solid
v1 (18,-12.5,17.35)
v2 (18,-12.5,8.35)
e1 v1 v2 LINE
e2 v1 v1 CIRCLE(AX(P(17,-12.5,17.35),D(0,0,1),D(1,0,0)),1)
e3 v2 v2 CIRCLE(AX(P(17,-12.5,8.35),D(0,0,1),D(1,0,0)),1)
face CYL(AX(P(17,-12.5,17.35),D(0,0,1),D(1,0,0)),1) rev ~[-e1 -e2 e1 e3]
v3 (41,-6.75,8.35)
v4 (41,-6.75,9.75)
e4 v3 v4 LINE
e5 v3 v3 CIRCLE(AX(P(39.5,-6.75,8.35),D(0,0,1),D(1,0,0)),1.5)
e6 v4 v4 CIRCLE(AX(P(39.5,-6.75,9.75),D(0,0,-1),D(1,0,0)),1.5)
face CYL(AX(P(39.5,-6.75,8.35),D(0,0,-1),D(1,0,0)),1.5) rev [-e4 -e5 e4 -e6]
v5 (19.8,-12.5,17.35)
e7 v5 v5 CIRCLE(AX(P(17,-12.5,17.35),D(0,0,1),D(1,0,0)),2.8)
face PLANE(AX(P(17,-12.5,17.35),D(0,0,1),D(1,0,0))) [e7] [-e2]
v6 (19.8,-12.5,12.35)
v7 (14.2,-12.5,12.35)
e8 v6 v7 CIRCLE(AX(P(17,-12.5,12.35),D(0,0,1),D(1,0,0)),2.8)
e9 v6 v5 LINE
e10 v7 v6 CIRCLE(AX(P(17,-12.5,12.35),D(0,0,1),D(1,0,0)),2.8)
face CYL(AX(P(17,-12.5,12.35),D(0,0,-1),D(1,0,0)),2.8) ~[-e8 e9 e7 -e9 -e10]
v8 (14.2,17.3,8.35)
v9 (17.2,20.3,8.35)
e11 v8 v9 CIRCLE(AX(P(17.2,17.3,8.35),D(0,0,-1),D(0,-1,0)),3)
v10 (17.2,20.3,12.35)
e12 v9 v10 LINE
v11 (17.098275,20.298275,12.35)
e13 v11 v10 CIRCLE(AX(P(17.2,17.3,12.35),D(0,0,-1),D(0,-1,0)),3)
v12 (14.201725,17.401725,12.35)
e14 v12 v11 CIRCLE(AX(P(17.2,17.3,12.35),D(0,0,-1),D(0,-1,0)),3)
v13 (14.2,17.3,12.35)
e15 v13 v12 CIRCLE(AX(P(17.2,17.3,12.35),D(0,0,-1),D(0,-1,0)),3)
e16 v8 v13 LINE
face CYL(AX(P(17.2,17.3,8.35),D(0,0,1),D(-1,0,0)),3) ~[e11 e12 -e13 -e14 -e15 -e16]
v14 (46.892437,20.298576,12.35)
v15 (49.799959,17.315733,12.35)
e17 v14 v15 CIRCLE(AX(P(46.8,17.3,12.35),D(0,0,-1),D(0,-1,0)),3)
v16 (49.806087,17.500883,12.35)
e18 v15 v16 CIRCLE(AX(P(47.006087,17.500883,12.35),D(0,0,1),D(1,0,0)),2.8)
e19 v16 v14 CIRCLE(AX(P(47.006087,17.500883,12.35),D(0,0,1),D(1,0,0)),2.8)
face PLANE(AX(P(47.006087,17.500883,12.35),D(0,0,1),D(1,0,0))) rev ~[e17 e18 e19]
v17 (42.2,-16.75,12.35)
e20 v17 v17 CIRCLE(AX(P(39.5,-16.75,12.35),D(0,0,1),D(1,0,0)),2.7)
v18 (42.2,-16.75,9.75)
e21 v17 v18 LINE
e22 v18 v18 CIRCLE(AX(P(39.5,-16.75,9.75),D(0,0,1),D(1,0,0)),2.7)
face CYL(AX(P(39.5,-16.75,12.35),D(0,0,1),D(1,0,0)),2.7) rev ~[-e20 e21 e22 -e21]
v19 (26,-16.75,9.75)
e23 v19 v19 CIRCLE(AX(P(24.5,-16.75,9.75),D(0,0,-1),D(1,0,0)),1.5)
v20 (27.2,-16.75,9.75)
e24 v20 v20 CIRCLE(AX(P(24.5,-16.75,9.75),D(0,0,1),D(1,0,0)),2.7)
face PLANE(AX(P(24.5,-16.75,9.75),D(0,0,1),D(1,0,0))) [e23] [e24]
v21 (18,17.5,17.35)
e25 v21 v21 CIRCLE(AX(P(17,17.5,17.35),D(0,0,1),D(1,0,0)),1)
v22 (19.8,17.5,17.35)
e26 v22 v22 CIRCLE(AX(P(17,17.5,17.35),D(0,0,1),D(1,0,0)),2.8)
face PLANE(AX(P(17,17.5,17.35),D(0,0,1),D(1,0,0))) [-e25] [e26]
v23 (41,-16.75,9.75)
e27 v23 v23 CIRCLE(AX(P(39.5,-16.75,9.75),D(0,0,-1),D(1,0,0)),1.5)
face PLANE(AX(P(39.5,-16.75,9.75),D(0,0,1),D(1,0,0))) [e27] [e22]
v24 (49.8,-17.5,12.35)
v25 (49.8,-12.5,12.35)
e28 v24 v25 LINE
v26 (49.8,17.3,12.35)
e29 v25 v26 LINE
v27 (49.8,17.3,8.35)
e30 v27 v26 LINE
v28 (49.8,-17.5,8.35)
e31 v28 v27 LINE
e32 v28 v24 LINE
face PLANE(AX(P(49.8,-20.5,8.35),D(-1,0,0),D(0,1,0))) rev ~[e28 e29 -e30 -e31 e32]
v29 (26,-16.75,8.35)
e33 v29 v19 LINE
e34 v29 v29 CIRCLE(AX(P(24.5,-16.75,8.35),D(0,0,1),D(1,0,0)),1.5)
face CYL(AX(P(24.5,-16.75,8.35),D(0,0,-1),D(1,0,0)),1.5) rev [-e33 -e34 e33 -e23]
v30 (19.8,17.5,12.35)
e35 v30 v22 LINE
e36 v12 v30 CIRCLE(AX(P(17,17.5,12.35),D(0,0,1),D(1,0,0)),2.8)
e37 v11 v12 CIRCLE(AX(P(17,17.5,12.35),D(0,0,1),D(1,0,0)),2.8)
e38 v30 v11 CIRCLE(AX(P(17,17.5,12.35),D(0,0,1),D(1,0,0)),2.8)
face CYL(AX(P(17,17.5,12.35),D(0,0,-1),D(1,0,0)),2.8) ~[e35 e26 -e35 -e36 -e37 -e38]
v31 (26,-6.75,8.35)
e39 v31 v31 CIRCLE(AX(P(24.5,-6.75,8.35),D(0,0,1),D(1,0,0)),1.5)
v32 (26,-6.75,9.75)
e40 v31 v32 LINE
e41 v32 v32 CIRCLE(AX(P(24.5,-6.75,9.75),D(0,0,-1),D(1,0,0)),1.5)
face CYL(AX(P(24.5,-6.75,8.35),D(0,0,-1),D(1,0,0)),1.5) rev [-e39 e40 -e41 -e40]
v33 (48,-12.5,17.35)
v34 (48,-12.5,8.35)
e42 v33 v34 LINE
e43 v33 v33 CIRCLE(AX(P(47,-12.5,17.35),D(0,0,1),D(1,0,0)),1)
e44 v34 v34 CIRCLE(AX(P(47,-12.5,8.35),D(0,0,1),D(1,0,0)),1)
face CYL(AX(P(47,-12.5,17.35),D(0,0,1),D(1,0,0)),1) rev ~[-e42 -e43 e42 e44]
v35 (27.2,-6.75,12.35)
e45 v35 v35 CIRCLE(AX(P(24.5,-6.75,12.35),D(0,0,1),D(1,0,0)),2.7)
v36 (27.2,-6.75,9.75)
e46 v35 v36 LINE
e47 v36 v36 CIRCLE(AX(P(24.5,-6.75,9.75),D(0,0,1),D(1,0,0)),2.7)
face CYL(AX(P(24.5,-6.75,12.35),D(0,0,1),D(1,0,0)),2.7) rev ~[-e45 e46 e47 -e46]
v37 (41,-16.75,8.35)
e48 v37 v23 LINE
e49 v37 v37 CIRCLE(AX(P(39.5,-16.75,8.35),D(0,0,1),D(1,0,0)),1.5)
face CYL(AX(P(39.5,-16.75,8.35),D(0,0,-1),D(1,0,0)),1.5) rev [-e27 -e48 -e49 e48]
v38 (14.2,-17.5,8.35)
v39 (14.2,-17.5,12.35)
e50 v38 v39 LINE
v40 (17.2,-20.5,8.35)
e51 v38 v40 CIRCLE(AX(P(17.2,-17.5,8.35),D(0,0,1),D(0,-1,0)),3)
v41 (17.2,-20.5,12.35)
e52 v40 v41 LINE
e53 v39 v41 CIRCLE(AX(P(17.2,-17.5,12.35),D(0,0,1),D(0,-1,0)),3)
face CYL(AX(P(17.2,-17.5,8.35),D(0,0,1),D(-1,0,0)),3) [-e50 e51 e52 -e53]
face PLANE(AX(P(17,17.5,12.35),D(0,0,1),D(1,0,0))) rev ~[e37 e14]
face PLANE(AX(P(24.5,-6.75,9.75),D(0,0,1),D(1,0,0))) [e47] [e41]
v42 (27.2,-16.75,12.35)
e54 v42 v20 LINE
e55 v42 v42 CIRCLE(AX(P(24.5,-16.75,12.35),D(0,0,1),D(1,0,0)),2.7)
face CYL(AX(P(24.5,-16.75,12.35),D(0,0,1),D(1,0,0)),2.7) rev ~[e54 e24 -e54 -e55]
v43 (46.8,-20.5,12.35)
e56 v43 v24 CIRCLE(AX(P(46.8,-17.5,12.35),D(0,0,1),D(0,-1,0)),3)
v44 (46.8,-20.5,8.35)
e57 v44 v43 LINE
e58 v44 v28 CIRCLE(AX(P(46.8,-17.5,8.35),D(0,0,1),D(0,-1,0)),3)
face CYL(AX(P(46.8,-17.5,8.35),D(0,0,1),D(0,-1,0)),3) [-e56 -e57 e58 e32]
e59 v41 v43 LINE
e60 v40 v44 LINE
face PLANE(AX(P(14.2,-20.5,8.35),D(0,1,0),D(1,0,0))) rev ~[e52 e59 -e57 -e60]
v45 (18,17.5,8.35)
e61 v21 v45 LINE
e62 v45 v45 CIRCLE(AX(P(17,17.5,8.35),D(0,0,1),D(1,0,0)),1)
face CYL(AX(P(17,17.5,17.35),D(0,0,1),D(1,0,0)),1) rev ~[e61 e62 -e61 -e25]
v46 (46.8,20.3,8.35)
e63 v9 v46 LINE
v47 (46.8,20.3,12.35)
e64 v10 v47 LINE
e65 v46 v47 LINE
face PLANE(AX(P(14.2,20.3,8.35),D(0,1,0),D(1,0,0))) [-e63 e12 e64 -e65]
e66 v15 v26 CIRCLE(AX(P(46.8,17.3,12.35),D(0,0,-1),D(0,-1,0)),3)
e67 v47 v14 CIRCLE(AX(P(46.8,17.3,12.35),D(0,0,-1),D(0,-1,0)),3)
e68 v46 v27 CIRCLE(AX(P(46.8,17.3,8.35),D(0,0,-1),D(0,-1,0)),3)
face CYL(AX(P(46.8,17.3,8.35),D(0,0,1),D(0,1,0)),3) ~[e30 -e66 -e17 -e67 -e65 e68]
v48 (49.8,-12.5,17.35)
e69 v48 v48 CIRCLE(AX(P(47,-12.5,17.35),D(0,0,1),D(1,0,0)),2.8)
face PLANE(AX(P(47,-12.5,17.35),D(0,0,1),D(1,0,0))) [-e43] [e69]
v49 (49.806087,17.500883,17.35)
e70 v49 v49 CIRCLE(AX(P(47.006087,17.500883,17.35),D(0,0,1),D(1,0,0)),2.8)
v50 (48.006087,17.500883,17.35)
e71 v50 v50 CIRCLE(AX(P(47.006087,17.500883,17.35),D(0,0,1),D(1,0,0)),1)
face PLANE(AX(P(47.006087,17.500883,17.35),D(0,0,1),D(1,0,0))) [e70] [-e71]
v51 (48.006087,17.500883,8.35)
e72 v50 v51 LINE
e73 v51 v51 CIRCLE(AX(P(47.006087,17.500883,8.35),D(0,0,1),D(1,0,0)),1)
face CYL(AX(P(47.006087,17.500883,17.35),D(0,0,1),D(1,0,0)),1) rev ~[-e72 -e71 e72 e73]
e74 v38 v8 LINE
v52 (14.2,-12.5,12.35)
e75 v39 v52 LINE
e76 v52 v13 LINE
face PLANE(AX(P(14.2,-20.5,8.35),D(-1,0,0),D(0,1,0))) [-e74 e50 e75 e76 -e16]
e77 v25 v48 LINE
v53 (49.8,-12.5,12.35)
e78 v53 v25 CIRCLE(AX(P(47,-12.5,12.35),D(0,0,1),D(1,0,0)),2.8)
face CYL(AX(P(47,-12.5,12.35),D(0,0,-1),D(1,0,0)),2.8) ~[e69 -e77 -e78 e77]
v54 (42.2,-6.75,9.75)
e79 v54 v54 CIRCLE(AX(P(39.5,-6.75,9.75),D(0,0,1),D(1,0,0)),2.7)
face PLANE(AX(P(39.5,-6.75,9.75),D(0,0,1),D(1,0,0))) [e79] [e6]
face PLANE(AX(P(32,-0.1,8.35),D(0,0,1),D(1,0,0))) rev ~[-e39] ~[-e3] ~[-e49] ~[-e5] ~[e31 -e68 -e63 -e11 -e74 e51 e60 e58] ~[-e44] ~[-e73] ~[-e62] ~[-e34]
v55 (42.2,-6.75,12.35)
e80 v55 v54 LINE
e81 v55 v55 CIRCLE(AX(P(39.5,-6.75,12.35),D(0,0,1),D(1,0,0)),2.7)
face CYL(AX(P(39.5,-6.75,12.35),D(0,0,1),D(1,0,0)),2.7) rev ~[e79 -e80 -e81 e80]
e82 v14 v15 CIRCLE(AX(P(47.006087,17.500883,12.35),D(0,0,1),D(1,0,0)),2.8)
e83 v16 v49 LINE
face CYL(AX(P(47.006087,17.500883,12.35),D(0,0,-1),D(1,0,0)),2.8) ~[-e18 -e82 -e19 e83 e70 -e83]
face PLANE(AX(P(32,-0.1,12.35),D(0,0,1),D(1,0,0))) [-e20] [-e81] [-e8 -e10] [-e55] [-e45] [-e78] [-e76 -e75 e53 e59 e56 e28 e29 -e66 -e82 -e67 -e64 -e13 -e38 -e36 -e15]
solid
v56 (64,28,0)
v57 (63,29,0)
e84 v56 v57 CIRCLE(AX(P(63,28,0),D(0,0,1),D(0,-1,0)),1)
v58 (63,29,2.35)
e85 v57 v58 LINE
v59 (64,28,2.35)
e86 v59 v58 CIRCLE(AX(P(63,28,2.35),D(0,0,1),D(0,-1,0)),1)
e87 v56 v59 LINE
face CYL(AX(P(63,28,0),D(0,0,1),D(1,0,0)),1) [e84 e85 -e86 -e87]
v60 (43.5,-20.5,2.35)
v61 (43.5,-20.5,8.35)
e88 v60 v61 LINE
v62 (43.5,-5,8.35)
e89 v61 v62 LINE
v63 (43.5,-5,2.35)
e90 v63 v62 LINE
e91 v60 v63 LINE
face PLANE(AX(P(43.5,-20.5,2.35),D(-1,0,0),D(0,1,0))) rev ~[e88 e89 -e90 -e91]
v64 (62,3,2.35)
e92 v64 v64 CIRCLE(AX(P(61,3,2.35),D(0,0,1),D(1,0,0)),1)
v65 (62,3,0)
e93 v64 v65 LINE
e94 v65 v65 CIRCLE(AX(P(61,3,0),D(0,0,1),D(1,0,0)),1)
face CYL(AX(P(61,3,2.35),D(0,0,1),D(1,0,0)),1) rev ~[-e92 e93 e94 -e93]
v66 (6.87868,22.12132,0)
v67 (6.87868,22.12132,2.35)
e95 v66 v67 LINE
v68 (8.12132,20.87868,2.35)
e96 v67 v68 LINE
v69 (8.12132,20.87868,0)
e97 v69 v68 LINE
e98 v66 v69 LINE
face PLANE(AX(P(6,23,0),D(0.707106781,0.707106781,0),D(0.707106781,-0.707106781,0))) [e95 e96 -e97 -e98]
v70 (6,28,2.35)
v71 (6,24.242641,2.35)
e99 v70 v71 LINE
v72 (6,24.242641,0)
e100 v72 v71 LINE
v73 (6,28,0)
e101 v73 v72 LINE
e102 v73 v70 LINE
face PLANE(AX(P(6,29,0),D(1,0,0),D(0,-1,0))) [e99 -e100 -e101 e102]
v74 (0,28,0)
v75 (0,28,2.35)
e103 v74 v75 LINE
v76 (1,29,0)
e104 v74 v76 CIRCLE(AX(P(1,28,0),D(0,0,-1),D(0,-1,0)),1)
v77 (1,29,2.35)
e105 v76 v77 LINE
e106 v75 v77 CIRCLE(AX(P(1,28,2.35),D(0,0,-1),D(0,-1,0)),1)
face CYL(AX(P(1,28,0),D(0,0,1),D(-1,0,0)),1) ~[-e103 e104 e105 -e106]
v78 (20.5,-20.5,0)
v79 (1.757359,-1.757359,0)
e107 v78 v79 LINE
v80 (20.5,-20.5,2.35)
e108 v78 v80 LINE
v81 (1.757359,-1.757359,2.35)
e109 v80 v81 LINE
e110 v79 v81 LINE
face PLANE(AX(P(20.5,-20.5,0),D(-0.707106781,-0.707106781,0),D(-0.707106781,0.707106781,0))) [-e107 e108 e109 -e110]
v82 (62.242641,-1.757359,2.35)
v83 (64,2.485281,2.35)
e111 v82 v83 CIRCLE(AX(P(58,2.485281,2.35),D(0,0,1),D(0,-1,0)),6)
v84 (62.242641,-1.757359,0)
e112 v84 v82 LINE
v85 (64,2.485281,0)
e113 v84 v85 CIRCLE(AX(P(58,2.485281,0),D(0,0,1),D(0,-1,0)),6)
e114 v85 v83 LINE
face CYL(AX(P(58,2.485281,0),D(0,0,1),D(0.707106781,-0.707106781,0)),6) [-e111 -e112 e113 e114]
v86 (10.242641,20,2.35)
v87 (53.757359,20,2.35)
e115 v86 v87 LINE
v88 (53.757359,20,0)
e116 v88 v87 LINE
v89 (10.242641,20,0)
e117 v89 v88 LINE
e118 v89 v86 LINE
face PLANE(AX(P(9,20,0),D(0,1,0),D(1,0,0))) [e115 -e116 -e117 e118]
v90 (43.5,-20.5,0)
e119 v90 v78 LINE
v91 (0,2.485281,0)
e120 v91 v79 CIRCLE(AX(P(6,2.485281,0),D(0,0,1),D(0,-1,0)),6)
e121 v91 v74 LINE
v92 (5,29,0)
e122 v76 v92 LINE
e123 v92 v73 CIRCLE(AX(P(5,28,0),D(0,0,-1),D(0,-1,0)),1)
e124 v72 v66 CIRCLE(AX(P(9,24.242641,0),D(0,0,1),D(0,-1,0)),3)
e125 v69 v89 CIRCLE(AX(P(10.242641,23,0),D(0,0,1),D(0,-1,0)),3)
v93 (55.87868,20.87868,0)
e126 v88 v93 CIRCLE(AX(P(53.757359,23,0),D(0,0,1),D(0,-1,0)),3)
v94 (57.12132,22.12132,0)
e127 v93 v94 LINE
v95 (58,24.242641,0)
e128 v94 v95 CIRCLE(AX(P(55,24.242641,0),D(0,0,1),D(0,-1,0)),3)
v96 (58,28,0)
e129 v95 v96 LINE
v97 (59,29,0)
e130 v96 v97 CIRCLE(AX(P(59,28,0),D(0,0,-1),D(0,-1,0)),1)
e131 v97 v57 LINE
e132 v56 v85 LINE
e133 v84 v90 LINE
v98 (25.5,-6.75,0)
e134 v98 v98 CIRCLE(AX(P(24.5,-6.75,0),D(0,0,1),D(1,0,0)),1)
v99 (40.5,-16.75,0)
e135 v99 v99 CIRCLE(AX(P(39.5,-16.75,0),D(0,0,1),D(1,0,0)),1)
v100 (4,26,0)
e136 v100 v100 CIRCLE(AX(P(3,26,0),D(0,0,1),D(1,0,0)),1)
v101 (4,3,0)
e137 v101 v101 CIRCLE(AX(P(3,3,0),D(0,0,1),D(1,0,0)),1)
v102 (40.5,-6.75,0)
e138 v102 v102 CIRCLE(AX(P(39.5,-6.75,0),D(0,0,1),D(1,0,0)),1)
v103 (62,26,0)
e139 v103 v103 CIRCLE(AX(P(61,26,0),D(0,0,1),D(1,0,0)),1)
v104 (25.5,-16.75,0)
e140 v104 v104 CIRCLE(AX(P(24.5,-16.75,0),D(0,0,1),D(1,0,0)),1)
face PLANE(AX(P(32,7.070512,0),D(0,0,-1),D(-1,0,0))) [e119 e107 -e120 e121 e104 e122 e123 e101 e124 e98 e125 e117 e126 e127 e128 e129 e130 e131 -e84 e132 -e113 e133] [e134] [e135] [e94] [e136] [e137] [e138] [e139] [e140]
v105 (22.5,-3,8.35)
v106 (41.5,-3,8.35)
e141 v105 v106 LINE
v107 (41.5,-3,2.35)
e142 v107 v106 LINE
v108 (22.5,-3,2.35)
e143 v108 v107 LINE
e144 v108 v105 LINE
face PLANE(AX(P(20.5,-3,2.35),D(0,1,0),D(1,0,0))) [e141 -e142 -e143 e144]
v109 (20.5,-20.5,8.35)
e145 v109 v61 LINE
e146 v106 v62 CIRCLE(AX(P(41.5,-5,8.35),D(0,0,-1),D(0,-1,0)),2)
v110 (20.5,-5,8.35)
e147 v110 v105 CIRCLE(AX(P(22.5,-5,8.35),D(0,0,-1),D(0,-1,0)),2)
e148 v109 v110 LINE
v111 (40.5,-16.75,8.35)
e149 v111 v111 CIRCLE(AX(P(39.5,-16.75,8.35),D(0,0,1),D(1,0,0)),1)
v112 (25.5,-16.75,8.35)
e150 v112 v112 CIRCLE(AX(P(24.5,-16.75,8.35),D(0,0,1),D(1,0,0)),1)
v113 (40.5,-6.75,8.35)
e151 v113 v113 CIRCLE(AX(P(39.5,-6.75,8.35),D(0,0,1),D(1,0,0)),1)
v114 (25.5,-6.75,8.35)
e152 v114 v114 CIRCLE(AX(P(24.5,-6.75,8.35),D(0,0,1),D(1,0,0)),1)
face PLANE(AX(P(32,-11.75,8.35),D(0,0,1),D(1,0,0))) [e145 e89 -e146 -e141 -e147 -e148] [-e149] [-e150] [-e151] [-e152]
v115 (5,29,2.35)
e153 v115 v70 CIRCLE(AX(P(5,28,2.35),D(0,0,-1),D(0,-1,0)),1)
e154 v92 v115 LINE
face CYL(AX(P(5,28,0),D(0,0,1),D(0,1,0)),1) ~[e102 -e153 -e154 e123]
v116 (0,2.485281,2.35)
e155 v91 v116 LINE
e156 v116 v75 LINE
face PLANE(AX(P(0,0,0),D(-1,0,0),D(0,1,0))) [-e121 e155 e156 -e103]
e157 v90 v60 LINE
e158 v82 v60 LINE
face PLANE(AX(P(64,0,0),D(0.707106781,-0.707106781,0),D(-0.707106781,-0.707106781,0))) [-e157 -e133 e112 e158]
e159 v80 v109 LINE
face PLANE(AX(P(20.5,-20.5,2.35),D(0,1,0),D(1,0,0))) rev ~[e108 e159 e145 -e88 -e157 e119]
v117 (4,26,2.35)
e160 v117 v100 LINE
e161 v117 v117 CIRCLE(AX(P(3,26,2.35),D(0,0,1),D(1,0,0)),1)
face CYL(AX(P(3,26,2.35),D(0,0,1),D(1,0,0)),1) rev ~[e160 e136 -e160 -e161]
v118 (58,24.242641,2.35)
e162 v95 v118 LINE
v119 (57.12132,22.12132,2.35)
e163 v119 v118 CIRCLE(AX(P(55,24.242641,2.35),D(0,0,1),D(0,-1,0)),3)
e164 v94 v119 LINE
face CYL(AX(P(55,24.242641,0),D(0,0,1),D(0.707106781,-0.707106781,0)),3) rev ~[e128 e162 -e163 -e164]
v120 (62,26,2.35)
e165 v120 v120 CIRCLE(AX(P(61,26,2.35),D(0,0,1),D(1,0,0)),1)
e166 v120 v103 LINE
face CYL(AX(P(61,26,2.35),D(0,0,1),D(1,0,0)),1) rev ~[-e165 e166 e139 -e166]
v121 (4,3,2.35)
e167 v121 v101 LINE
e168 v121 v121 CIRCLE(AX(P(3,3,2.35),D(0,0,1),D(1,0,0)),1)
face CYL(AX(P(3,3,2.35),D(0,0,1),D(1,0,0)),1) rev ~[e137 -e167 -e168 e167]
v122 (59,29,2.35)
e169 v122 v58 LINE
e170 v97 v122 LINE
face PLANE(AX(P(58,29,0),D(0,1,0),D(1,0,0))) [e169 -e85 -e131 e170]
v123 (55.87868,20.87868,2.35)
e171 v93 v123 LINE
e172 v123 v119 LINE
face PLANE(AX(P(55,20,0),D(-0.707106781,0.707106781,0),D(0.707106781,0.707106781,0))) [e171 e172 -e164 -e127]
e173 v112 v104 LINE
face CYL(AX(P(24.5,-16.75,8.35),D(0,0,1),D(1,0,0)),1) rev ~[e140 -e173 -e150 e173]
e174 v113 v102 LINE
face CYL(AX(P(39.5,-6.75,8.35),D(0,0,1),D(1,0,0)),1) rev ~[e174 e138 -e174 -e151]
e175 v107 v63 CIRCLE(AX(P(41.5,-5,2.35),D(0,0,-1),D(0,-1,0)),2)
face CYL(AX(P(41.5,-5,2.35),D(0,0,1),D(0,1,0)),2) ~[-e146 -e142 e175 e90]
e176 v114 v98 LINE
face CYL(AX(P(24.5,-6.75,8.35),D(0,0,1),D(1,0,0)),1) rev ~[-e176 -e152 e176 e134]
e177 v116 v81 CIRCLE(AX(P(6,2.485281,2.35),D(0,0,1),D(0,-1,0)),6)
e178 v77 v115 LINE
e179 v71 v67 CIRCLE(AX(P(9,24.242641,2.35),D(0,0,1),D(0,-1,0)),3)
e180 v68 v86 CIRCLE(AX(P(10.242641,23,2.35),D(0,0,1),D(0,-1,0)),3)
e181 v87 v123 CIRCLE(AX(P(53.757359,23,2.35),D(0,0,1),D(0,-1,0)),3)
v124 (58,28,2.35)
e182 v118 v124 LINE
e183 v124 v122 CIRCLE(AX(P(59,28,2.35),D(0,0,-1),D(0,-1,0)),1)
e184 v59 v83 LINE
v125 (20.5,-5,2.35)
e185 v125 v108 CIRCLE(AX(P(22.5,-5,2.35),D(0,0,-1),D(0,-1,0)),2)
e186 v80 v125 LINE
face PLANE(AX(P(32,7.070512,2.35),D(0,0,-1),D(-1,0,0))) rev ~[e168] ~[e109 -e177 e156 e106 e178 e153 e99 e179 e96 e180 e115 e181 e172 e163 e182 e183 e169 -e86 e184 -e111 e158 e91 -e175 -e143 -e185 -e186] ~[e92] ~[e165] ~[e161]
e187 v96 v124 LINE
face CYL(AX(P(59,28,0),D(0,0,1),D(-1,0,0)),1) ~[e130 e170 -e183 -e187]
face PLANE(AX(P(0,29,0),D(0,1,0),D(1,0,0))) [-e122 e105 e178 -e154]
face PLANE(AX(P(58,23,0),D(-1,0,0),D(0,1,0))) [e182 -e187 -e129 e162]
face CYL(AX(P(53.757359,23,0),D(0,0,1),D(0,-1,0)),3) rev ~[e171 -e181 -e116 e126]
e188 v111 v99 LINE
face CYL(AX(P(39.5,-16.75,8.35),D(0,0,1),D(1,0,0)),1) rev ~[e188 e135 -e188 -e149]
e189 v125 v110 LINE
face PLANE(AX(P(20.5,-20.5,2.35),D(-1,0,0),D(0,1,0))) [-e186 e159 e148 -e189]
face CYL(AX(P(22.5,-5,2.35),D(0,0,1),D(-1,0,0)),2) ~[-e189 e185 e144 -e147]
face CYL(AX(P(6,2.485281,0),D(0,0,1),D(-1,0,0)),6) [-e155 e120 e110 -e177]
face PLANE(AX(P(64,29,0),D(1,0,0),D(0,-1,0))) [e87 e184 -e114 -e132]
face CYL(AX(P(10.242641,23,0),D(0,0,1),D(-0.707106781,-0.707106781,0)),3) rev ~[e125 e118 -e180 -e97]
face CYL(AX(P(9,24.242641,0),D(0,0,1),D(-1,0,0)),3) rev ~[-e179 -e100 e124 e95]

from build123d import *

# Parameters (mm, degrees)
PAD_DEPTH     = 2.35
SKETCH002_W   = 23
SKETCH002_H   = 17.5
PAD001_DEPTH  = 6
SKETCH003_R   = 1
HOLE_DEPTH    = 8.351
SKETCH004_R   = 1
HOLE001_DEPTH = 25
FILLET_R      = 1
FILLET001_R   = 3
FILLET002_R   = 6
FILLET003_R   = 2
SKETCH005_W   = 35.6
SKETCH005_H   = 40.8
SKETCH005_R   = 1.5
PAD002_DEPTH  = 4
FILLET004_R   = 3
SKETCH006_R   = 2.8
PAD003_DEPTH  = 5
SKETCH007_R   = 2.7
POCKET_DEPTH  = 2.6
SKETCH008_R   = 1
HOLE002_DEPTH = 25


with BuildPart() as body_piside:
    # Sketch001 → Pad (new body)
    with BuildSketch(Plane.XY):
        Polygon((0, 29), (6, 29), (6, 23), (9, 20), (55, 20), (58, 23), (58, 29), (64, 29), (64, 0), (43.5, -20.5), (20.5, -20.5), (0, 0), align=None)
    extrude(amount=PAD_DEPTH)

    # Sketch002 (on Face14 of Pad) → Pad001 (join)
    with BuildSketch(Plane.XY.offset(2.35)):
        with Locations((32, -11.75)):
            Rectangle(SKETCH002_W, SKETCH002_H)
    extrude(amount=PAD001_DEPTH)

    # Sketch003 (on Face19 of Pad001) → Hole (cut, through all)
    with BuildSketch(Plane.XY.offset(8.35)):
        with Locations((39.5, -6.75)):
            Circle(SKETCH003_R)
        with Locations((39.5, -16.75)):
            Circle(SKETCH003_R)
        with Locations((24.5, -16.75)):
            Circle(SKETCH003_R)
        with Locations((24.5, -6.75)):
            Circle(SKETCH003_R)
    extrude(amount=-HOLE_DEPTH, mode=Mode.SUBTRACT)

    # Sketch004 (on Face5 of Hole) → Hole001 (cut)
    with BuildSketch(Plane.XY.offset(2.35)):
        with Locations((3, 26)):
            Circle(SKETCH004_R)
        with Locations((3, 3)):
            Circle(SKETCH004_R)
        with Locations((61, 3)):
            Circle(SKETCH004_R)
        with Locations((61, 26)):
            Circle(SKETCH004_R)
    extrude(amount=-HOLE001_DEPTH, mode=Mode.SUBTRACT)

    # Fillet
    fillet_edges = [body_piside.edges().sort_by_distance(p)[0] for p in [
        (6, 29, 1.175),
        (0, 29, 1.175),
        (58, 29, 1.175),
        (64, 29, 1.175),
    ]]
    fillet(fillet_edges, radius=FILLET_R)

    # Fillet001
    fillet001_edges = [body_piside.edges().sort_by_distance(p)[0] for p in [
        (6, 23, 1.175),
        (9, 20, 1.175),
        (55, 20, 1.175),
        (58, 23, 1.175),
    ]]
    fillet(fillet001_edges, radius=FILLET001_R)

    # Fillet002
    fillet002_edges = [body_piside.edges().sort_by_distance(p)[0] for p in [
        (0, 0, 1.175),
        (64, 0, 1.175),
    ]]
    fillet(fillet002_edges, radius=FILLET002_R)

    # Fillet003
    fillet003_edges = [body_piside.edges().sort_by_distance(p)[0] for p in [
        (20.5, -3, 5.35),
        (43.5, -3, 5.35),
    ]]
    fillet(fillet003_edges, radius=FILLET003_R)


with BuildPart() as body_camside:
    # Sketch005 (on ReferenceFillet) → Pad002 (new body)
    with BuildSketch(Plane.XY.offset(8.35)):
        with Locations((32, -0.1)):
            Rectangle(SKETCH005_W, SKETCH005_H)
        with Locations((24.5, -6.75)):
            Circle(SKETCH005_R, mode=Mode.SUBTRACT)
        with Locations((39.5, -6.75)):
            Circle(SKETCH005_R, mode=Mode.SUBTRACT)
        with Locations((39.5, -16.75)):
            Circle(SKETCH005_R, mode=Mode.SUBTRACT)
        with Locations((24.5, -16.75)):
            Circle(SKETCH005_R, mode=Mode.SUBTRACT)
    extrude(amount=PAD002_DEPTH)

    # Fillet004
    fillet004_edges = [body_camside.edges().sort_by_distance(p)[0] for p in [
        (14.2, -20.5, 10.35),
        (49.8, -20.5, 10.35),
        (49.8, 20.3, 10.35),
        (14.2, 20.3, 10.35),
    ]]
    fillet(fillet004_edges, radius=FILLET004_R)

    # Sketch006 (on Face5 of Fillet004) → Pad003 (join)
    with BuildSketch(Plane.XY.offset(12.35)):
        with Locations((17, 17.5)):
            Circle(SKETCH006_R)
        with Locations((47.006087, 17.500883)):
            Circle(SKETCH006_R)
        with Locations((47, -12.5)):
            Circle(SKETCH006_R)
        with Locations((17, -12.5)):
            Circle(SKETCH006_R)
    extrude(amount=PAD003_DEPTH)

    # Sketch007 (on Face5 of Pad003) → Pocket (cut)
    with BuildSketch(Plane.XY.offset(12.35)):
        with Locations((24.5, -6.75)):
            Circle(SKETCH007_R)
        with Locations((39.5, -6.75)):
            Circle(SKETCH007_R)
        with Locations((39.5, -16.75)):
            Circle(SKETCH007_R)
        with Locations((24.5, -16.75)):
            Circle(SKETCH007_R)
    extrude(amount=-POCKET_DEPTH, mode=Mode.SUBTRACT)

    # Sketch008 (on Face29 of Pocket) → Hole002 (cut)
    with BuildSketch(Plane.XY.offset(17.35)):
        with Locations((17, 17.5)):
            Circle(SKETCH008_R)
        with Locations((47.006087, 17.500883)):
            Circle(SKETCH008_R)
        with Locations((47, -12.5)):
            Circle(SKETCH008_R)
        with Locations((17, -12.5)):
            Circle(SKETCH008_R)
    extrude(amount=-HOLE002_DEPTH, mode=Mode.SUBTRACT)


solid = Compound([body_piside.part, body_camside.part])
